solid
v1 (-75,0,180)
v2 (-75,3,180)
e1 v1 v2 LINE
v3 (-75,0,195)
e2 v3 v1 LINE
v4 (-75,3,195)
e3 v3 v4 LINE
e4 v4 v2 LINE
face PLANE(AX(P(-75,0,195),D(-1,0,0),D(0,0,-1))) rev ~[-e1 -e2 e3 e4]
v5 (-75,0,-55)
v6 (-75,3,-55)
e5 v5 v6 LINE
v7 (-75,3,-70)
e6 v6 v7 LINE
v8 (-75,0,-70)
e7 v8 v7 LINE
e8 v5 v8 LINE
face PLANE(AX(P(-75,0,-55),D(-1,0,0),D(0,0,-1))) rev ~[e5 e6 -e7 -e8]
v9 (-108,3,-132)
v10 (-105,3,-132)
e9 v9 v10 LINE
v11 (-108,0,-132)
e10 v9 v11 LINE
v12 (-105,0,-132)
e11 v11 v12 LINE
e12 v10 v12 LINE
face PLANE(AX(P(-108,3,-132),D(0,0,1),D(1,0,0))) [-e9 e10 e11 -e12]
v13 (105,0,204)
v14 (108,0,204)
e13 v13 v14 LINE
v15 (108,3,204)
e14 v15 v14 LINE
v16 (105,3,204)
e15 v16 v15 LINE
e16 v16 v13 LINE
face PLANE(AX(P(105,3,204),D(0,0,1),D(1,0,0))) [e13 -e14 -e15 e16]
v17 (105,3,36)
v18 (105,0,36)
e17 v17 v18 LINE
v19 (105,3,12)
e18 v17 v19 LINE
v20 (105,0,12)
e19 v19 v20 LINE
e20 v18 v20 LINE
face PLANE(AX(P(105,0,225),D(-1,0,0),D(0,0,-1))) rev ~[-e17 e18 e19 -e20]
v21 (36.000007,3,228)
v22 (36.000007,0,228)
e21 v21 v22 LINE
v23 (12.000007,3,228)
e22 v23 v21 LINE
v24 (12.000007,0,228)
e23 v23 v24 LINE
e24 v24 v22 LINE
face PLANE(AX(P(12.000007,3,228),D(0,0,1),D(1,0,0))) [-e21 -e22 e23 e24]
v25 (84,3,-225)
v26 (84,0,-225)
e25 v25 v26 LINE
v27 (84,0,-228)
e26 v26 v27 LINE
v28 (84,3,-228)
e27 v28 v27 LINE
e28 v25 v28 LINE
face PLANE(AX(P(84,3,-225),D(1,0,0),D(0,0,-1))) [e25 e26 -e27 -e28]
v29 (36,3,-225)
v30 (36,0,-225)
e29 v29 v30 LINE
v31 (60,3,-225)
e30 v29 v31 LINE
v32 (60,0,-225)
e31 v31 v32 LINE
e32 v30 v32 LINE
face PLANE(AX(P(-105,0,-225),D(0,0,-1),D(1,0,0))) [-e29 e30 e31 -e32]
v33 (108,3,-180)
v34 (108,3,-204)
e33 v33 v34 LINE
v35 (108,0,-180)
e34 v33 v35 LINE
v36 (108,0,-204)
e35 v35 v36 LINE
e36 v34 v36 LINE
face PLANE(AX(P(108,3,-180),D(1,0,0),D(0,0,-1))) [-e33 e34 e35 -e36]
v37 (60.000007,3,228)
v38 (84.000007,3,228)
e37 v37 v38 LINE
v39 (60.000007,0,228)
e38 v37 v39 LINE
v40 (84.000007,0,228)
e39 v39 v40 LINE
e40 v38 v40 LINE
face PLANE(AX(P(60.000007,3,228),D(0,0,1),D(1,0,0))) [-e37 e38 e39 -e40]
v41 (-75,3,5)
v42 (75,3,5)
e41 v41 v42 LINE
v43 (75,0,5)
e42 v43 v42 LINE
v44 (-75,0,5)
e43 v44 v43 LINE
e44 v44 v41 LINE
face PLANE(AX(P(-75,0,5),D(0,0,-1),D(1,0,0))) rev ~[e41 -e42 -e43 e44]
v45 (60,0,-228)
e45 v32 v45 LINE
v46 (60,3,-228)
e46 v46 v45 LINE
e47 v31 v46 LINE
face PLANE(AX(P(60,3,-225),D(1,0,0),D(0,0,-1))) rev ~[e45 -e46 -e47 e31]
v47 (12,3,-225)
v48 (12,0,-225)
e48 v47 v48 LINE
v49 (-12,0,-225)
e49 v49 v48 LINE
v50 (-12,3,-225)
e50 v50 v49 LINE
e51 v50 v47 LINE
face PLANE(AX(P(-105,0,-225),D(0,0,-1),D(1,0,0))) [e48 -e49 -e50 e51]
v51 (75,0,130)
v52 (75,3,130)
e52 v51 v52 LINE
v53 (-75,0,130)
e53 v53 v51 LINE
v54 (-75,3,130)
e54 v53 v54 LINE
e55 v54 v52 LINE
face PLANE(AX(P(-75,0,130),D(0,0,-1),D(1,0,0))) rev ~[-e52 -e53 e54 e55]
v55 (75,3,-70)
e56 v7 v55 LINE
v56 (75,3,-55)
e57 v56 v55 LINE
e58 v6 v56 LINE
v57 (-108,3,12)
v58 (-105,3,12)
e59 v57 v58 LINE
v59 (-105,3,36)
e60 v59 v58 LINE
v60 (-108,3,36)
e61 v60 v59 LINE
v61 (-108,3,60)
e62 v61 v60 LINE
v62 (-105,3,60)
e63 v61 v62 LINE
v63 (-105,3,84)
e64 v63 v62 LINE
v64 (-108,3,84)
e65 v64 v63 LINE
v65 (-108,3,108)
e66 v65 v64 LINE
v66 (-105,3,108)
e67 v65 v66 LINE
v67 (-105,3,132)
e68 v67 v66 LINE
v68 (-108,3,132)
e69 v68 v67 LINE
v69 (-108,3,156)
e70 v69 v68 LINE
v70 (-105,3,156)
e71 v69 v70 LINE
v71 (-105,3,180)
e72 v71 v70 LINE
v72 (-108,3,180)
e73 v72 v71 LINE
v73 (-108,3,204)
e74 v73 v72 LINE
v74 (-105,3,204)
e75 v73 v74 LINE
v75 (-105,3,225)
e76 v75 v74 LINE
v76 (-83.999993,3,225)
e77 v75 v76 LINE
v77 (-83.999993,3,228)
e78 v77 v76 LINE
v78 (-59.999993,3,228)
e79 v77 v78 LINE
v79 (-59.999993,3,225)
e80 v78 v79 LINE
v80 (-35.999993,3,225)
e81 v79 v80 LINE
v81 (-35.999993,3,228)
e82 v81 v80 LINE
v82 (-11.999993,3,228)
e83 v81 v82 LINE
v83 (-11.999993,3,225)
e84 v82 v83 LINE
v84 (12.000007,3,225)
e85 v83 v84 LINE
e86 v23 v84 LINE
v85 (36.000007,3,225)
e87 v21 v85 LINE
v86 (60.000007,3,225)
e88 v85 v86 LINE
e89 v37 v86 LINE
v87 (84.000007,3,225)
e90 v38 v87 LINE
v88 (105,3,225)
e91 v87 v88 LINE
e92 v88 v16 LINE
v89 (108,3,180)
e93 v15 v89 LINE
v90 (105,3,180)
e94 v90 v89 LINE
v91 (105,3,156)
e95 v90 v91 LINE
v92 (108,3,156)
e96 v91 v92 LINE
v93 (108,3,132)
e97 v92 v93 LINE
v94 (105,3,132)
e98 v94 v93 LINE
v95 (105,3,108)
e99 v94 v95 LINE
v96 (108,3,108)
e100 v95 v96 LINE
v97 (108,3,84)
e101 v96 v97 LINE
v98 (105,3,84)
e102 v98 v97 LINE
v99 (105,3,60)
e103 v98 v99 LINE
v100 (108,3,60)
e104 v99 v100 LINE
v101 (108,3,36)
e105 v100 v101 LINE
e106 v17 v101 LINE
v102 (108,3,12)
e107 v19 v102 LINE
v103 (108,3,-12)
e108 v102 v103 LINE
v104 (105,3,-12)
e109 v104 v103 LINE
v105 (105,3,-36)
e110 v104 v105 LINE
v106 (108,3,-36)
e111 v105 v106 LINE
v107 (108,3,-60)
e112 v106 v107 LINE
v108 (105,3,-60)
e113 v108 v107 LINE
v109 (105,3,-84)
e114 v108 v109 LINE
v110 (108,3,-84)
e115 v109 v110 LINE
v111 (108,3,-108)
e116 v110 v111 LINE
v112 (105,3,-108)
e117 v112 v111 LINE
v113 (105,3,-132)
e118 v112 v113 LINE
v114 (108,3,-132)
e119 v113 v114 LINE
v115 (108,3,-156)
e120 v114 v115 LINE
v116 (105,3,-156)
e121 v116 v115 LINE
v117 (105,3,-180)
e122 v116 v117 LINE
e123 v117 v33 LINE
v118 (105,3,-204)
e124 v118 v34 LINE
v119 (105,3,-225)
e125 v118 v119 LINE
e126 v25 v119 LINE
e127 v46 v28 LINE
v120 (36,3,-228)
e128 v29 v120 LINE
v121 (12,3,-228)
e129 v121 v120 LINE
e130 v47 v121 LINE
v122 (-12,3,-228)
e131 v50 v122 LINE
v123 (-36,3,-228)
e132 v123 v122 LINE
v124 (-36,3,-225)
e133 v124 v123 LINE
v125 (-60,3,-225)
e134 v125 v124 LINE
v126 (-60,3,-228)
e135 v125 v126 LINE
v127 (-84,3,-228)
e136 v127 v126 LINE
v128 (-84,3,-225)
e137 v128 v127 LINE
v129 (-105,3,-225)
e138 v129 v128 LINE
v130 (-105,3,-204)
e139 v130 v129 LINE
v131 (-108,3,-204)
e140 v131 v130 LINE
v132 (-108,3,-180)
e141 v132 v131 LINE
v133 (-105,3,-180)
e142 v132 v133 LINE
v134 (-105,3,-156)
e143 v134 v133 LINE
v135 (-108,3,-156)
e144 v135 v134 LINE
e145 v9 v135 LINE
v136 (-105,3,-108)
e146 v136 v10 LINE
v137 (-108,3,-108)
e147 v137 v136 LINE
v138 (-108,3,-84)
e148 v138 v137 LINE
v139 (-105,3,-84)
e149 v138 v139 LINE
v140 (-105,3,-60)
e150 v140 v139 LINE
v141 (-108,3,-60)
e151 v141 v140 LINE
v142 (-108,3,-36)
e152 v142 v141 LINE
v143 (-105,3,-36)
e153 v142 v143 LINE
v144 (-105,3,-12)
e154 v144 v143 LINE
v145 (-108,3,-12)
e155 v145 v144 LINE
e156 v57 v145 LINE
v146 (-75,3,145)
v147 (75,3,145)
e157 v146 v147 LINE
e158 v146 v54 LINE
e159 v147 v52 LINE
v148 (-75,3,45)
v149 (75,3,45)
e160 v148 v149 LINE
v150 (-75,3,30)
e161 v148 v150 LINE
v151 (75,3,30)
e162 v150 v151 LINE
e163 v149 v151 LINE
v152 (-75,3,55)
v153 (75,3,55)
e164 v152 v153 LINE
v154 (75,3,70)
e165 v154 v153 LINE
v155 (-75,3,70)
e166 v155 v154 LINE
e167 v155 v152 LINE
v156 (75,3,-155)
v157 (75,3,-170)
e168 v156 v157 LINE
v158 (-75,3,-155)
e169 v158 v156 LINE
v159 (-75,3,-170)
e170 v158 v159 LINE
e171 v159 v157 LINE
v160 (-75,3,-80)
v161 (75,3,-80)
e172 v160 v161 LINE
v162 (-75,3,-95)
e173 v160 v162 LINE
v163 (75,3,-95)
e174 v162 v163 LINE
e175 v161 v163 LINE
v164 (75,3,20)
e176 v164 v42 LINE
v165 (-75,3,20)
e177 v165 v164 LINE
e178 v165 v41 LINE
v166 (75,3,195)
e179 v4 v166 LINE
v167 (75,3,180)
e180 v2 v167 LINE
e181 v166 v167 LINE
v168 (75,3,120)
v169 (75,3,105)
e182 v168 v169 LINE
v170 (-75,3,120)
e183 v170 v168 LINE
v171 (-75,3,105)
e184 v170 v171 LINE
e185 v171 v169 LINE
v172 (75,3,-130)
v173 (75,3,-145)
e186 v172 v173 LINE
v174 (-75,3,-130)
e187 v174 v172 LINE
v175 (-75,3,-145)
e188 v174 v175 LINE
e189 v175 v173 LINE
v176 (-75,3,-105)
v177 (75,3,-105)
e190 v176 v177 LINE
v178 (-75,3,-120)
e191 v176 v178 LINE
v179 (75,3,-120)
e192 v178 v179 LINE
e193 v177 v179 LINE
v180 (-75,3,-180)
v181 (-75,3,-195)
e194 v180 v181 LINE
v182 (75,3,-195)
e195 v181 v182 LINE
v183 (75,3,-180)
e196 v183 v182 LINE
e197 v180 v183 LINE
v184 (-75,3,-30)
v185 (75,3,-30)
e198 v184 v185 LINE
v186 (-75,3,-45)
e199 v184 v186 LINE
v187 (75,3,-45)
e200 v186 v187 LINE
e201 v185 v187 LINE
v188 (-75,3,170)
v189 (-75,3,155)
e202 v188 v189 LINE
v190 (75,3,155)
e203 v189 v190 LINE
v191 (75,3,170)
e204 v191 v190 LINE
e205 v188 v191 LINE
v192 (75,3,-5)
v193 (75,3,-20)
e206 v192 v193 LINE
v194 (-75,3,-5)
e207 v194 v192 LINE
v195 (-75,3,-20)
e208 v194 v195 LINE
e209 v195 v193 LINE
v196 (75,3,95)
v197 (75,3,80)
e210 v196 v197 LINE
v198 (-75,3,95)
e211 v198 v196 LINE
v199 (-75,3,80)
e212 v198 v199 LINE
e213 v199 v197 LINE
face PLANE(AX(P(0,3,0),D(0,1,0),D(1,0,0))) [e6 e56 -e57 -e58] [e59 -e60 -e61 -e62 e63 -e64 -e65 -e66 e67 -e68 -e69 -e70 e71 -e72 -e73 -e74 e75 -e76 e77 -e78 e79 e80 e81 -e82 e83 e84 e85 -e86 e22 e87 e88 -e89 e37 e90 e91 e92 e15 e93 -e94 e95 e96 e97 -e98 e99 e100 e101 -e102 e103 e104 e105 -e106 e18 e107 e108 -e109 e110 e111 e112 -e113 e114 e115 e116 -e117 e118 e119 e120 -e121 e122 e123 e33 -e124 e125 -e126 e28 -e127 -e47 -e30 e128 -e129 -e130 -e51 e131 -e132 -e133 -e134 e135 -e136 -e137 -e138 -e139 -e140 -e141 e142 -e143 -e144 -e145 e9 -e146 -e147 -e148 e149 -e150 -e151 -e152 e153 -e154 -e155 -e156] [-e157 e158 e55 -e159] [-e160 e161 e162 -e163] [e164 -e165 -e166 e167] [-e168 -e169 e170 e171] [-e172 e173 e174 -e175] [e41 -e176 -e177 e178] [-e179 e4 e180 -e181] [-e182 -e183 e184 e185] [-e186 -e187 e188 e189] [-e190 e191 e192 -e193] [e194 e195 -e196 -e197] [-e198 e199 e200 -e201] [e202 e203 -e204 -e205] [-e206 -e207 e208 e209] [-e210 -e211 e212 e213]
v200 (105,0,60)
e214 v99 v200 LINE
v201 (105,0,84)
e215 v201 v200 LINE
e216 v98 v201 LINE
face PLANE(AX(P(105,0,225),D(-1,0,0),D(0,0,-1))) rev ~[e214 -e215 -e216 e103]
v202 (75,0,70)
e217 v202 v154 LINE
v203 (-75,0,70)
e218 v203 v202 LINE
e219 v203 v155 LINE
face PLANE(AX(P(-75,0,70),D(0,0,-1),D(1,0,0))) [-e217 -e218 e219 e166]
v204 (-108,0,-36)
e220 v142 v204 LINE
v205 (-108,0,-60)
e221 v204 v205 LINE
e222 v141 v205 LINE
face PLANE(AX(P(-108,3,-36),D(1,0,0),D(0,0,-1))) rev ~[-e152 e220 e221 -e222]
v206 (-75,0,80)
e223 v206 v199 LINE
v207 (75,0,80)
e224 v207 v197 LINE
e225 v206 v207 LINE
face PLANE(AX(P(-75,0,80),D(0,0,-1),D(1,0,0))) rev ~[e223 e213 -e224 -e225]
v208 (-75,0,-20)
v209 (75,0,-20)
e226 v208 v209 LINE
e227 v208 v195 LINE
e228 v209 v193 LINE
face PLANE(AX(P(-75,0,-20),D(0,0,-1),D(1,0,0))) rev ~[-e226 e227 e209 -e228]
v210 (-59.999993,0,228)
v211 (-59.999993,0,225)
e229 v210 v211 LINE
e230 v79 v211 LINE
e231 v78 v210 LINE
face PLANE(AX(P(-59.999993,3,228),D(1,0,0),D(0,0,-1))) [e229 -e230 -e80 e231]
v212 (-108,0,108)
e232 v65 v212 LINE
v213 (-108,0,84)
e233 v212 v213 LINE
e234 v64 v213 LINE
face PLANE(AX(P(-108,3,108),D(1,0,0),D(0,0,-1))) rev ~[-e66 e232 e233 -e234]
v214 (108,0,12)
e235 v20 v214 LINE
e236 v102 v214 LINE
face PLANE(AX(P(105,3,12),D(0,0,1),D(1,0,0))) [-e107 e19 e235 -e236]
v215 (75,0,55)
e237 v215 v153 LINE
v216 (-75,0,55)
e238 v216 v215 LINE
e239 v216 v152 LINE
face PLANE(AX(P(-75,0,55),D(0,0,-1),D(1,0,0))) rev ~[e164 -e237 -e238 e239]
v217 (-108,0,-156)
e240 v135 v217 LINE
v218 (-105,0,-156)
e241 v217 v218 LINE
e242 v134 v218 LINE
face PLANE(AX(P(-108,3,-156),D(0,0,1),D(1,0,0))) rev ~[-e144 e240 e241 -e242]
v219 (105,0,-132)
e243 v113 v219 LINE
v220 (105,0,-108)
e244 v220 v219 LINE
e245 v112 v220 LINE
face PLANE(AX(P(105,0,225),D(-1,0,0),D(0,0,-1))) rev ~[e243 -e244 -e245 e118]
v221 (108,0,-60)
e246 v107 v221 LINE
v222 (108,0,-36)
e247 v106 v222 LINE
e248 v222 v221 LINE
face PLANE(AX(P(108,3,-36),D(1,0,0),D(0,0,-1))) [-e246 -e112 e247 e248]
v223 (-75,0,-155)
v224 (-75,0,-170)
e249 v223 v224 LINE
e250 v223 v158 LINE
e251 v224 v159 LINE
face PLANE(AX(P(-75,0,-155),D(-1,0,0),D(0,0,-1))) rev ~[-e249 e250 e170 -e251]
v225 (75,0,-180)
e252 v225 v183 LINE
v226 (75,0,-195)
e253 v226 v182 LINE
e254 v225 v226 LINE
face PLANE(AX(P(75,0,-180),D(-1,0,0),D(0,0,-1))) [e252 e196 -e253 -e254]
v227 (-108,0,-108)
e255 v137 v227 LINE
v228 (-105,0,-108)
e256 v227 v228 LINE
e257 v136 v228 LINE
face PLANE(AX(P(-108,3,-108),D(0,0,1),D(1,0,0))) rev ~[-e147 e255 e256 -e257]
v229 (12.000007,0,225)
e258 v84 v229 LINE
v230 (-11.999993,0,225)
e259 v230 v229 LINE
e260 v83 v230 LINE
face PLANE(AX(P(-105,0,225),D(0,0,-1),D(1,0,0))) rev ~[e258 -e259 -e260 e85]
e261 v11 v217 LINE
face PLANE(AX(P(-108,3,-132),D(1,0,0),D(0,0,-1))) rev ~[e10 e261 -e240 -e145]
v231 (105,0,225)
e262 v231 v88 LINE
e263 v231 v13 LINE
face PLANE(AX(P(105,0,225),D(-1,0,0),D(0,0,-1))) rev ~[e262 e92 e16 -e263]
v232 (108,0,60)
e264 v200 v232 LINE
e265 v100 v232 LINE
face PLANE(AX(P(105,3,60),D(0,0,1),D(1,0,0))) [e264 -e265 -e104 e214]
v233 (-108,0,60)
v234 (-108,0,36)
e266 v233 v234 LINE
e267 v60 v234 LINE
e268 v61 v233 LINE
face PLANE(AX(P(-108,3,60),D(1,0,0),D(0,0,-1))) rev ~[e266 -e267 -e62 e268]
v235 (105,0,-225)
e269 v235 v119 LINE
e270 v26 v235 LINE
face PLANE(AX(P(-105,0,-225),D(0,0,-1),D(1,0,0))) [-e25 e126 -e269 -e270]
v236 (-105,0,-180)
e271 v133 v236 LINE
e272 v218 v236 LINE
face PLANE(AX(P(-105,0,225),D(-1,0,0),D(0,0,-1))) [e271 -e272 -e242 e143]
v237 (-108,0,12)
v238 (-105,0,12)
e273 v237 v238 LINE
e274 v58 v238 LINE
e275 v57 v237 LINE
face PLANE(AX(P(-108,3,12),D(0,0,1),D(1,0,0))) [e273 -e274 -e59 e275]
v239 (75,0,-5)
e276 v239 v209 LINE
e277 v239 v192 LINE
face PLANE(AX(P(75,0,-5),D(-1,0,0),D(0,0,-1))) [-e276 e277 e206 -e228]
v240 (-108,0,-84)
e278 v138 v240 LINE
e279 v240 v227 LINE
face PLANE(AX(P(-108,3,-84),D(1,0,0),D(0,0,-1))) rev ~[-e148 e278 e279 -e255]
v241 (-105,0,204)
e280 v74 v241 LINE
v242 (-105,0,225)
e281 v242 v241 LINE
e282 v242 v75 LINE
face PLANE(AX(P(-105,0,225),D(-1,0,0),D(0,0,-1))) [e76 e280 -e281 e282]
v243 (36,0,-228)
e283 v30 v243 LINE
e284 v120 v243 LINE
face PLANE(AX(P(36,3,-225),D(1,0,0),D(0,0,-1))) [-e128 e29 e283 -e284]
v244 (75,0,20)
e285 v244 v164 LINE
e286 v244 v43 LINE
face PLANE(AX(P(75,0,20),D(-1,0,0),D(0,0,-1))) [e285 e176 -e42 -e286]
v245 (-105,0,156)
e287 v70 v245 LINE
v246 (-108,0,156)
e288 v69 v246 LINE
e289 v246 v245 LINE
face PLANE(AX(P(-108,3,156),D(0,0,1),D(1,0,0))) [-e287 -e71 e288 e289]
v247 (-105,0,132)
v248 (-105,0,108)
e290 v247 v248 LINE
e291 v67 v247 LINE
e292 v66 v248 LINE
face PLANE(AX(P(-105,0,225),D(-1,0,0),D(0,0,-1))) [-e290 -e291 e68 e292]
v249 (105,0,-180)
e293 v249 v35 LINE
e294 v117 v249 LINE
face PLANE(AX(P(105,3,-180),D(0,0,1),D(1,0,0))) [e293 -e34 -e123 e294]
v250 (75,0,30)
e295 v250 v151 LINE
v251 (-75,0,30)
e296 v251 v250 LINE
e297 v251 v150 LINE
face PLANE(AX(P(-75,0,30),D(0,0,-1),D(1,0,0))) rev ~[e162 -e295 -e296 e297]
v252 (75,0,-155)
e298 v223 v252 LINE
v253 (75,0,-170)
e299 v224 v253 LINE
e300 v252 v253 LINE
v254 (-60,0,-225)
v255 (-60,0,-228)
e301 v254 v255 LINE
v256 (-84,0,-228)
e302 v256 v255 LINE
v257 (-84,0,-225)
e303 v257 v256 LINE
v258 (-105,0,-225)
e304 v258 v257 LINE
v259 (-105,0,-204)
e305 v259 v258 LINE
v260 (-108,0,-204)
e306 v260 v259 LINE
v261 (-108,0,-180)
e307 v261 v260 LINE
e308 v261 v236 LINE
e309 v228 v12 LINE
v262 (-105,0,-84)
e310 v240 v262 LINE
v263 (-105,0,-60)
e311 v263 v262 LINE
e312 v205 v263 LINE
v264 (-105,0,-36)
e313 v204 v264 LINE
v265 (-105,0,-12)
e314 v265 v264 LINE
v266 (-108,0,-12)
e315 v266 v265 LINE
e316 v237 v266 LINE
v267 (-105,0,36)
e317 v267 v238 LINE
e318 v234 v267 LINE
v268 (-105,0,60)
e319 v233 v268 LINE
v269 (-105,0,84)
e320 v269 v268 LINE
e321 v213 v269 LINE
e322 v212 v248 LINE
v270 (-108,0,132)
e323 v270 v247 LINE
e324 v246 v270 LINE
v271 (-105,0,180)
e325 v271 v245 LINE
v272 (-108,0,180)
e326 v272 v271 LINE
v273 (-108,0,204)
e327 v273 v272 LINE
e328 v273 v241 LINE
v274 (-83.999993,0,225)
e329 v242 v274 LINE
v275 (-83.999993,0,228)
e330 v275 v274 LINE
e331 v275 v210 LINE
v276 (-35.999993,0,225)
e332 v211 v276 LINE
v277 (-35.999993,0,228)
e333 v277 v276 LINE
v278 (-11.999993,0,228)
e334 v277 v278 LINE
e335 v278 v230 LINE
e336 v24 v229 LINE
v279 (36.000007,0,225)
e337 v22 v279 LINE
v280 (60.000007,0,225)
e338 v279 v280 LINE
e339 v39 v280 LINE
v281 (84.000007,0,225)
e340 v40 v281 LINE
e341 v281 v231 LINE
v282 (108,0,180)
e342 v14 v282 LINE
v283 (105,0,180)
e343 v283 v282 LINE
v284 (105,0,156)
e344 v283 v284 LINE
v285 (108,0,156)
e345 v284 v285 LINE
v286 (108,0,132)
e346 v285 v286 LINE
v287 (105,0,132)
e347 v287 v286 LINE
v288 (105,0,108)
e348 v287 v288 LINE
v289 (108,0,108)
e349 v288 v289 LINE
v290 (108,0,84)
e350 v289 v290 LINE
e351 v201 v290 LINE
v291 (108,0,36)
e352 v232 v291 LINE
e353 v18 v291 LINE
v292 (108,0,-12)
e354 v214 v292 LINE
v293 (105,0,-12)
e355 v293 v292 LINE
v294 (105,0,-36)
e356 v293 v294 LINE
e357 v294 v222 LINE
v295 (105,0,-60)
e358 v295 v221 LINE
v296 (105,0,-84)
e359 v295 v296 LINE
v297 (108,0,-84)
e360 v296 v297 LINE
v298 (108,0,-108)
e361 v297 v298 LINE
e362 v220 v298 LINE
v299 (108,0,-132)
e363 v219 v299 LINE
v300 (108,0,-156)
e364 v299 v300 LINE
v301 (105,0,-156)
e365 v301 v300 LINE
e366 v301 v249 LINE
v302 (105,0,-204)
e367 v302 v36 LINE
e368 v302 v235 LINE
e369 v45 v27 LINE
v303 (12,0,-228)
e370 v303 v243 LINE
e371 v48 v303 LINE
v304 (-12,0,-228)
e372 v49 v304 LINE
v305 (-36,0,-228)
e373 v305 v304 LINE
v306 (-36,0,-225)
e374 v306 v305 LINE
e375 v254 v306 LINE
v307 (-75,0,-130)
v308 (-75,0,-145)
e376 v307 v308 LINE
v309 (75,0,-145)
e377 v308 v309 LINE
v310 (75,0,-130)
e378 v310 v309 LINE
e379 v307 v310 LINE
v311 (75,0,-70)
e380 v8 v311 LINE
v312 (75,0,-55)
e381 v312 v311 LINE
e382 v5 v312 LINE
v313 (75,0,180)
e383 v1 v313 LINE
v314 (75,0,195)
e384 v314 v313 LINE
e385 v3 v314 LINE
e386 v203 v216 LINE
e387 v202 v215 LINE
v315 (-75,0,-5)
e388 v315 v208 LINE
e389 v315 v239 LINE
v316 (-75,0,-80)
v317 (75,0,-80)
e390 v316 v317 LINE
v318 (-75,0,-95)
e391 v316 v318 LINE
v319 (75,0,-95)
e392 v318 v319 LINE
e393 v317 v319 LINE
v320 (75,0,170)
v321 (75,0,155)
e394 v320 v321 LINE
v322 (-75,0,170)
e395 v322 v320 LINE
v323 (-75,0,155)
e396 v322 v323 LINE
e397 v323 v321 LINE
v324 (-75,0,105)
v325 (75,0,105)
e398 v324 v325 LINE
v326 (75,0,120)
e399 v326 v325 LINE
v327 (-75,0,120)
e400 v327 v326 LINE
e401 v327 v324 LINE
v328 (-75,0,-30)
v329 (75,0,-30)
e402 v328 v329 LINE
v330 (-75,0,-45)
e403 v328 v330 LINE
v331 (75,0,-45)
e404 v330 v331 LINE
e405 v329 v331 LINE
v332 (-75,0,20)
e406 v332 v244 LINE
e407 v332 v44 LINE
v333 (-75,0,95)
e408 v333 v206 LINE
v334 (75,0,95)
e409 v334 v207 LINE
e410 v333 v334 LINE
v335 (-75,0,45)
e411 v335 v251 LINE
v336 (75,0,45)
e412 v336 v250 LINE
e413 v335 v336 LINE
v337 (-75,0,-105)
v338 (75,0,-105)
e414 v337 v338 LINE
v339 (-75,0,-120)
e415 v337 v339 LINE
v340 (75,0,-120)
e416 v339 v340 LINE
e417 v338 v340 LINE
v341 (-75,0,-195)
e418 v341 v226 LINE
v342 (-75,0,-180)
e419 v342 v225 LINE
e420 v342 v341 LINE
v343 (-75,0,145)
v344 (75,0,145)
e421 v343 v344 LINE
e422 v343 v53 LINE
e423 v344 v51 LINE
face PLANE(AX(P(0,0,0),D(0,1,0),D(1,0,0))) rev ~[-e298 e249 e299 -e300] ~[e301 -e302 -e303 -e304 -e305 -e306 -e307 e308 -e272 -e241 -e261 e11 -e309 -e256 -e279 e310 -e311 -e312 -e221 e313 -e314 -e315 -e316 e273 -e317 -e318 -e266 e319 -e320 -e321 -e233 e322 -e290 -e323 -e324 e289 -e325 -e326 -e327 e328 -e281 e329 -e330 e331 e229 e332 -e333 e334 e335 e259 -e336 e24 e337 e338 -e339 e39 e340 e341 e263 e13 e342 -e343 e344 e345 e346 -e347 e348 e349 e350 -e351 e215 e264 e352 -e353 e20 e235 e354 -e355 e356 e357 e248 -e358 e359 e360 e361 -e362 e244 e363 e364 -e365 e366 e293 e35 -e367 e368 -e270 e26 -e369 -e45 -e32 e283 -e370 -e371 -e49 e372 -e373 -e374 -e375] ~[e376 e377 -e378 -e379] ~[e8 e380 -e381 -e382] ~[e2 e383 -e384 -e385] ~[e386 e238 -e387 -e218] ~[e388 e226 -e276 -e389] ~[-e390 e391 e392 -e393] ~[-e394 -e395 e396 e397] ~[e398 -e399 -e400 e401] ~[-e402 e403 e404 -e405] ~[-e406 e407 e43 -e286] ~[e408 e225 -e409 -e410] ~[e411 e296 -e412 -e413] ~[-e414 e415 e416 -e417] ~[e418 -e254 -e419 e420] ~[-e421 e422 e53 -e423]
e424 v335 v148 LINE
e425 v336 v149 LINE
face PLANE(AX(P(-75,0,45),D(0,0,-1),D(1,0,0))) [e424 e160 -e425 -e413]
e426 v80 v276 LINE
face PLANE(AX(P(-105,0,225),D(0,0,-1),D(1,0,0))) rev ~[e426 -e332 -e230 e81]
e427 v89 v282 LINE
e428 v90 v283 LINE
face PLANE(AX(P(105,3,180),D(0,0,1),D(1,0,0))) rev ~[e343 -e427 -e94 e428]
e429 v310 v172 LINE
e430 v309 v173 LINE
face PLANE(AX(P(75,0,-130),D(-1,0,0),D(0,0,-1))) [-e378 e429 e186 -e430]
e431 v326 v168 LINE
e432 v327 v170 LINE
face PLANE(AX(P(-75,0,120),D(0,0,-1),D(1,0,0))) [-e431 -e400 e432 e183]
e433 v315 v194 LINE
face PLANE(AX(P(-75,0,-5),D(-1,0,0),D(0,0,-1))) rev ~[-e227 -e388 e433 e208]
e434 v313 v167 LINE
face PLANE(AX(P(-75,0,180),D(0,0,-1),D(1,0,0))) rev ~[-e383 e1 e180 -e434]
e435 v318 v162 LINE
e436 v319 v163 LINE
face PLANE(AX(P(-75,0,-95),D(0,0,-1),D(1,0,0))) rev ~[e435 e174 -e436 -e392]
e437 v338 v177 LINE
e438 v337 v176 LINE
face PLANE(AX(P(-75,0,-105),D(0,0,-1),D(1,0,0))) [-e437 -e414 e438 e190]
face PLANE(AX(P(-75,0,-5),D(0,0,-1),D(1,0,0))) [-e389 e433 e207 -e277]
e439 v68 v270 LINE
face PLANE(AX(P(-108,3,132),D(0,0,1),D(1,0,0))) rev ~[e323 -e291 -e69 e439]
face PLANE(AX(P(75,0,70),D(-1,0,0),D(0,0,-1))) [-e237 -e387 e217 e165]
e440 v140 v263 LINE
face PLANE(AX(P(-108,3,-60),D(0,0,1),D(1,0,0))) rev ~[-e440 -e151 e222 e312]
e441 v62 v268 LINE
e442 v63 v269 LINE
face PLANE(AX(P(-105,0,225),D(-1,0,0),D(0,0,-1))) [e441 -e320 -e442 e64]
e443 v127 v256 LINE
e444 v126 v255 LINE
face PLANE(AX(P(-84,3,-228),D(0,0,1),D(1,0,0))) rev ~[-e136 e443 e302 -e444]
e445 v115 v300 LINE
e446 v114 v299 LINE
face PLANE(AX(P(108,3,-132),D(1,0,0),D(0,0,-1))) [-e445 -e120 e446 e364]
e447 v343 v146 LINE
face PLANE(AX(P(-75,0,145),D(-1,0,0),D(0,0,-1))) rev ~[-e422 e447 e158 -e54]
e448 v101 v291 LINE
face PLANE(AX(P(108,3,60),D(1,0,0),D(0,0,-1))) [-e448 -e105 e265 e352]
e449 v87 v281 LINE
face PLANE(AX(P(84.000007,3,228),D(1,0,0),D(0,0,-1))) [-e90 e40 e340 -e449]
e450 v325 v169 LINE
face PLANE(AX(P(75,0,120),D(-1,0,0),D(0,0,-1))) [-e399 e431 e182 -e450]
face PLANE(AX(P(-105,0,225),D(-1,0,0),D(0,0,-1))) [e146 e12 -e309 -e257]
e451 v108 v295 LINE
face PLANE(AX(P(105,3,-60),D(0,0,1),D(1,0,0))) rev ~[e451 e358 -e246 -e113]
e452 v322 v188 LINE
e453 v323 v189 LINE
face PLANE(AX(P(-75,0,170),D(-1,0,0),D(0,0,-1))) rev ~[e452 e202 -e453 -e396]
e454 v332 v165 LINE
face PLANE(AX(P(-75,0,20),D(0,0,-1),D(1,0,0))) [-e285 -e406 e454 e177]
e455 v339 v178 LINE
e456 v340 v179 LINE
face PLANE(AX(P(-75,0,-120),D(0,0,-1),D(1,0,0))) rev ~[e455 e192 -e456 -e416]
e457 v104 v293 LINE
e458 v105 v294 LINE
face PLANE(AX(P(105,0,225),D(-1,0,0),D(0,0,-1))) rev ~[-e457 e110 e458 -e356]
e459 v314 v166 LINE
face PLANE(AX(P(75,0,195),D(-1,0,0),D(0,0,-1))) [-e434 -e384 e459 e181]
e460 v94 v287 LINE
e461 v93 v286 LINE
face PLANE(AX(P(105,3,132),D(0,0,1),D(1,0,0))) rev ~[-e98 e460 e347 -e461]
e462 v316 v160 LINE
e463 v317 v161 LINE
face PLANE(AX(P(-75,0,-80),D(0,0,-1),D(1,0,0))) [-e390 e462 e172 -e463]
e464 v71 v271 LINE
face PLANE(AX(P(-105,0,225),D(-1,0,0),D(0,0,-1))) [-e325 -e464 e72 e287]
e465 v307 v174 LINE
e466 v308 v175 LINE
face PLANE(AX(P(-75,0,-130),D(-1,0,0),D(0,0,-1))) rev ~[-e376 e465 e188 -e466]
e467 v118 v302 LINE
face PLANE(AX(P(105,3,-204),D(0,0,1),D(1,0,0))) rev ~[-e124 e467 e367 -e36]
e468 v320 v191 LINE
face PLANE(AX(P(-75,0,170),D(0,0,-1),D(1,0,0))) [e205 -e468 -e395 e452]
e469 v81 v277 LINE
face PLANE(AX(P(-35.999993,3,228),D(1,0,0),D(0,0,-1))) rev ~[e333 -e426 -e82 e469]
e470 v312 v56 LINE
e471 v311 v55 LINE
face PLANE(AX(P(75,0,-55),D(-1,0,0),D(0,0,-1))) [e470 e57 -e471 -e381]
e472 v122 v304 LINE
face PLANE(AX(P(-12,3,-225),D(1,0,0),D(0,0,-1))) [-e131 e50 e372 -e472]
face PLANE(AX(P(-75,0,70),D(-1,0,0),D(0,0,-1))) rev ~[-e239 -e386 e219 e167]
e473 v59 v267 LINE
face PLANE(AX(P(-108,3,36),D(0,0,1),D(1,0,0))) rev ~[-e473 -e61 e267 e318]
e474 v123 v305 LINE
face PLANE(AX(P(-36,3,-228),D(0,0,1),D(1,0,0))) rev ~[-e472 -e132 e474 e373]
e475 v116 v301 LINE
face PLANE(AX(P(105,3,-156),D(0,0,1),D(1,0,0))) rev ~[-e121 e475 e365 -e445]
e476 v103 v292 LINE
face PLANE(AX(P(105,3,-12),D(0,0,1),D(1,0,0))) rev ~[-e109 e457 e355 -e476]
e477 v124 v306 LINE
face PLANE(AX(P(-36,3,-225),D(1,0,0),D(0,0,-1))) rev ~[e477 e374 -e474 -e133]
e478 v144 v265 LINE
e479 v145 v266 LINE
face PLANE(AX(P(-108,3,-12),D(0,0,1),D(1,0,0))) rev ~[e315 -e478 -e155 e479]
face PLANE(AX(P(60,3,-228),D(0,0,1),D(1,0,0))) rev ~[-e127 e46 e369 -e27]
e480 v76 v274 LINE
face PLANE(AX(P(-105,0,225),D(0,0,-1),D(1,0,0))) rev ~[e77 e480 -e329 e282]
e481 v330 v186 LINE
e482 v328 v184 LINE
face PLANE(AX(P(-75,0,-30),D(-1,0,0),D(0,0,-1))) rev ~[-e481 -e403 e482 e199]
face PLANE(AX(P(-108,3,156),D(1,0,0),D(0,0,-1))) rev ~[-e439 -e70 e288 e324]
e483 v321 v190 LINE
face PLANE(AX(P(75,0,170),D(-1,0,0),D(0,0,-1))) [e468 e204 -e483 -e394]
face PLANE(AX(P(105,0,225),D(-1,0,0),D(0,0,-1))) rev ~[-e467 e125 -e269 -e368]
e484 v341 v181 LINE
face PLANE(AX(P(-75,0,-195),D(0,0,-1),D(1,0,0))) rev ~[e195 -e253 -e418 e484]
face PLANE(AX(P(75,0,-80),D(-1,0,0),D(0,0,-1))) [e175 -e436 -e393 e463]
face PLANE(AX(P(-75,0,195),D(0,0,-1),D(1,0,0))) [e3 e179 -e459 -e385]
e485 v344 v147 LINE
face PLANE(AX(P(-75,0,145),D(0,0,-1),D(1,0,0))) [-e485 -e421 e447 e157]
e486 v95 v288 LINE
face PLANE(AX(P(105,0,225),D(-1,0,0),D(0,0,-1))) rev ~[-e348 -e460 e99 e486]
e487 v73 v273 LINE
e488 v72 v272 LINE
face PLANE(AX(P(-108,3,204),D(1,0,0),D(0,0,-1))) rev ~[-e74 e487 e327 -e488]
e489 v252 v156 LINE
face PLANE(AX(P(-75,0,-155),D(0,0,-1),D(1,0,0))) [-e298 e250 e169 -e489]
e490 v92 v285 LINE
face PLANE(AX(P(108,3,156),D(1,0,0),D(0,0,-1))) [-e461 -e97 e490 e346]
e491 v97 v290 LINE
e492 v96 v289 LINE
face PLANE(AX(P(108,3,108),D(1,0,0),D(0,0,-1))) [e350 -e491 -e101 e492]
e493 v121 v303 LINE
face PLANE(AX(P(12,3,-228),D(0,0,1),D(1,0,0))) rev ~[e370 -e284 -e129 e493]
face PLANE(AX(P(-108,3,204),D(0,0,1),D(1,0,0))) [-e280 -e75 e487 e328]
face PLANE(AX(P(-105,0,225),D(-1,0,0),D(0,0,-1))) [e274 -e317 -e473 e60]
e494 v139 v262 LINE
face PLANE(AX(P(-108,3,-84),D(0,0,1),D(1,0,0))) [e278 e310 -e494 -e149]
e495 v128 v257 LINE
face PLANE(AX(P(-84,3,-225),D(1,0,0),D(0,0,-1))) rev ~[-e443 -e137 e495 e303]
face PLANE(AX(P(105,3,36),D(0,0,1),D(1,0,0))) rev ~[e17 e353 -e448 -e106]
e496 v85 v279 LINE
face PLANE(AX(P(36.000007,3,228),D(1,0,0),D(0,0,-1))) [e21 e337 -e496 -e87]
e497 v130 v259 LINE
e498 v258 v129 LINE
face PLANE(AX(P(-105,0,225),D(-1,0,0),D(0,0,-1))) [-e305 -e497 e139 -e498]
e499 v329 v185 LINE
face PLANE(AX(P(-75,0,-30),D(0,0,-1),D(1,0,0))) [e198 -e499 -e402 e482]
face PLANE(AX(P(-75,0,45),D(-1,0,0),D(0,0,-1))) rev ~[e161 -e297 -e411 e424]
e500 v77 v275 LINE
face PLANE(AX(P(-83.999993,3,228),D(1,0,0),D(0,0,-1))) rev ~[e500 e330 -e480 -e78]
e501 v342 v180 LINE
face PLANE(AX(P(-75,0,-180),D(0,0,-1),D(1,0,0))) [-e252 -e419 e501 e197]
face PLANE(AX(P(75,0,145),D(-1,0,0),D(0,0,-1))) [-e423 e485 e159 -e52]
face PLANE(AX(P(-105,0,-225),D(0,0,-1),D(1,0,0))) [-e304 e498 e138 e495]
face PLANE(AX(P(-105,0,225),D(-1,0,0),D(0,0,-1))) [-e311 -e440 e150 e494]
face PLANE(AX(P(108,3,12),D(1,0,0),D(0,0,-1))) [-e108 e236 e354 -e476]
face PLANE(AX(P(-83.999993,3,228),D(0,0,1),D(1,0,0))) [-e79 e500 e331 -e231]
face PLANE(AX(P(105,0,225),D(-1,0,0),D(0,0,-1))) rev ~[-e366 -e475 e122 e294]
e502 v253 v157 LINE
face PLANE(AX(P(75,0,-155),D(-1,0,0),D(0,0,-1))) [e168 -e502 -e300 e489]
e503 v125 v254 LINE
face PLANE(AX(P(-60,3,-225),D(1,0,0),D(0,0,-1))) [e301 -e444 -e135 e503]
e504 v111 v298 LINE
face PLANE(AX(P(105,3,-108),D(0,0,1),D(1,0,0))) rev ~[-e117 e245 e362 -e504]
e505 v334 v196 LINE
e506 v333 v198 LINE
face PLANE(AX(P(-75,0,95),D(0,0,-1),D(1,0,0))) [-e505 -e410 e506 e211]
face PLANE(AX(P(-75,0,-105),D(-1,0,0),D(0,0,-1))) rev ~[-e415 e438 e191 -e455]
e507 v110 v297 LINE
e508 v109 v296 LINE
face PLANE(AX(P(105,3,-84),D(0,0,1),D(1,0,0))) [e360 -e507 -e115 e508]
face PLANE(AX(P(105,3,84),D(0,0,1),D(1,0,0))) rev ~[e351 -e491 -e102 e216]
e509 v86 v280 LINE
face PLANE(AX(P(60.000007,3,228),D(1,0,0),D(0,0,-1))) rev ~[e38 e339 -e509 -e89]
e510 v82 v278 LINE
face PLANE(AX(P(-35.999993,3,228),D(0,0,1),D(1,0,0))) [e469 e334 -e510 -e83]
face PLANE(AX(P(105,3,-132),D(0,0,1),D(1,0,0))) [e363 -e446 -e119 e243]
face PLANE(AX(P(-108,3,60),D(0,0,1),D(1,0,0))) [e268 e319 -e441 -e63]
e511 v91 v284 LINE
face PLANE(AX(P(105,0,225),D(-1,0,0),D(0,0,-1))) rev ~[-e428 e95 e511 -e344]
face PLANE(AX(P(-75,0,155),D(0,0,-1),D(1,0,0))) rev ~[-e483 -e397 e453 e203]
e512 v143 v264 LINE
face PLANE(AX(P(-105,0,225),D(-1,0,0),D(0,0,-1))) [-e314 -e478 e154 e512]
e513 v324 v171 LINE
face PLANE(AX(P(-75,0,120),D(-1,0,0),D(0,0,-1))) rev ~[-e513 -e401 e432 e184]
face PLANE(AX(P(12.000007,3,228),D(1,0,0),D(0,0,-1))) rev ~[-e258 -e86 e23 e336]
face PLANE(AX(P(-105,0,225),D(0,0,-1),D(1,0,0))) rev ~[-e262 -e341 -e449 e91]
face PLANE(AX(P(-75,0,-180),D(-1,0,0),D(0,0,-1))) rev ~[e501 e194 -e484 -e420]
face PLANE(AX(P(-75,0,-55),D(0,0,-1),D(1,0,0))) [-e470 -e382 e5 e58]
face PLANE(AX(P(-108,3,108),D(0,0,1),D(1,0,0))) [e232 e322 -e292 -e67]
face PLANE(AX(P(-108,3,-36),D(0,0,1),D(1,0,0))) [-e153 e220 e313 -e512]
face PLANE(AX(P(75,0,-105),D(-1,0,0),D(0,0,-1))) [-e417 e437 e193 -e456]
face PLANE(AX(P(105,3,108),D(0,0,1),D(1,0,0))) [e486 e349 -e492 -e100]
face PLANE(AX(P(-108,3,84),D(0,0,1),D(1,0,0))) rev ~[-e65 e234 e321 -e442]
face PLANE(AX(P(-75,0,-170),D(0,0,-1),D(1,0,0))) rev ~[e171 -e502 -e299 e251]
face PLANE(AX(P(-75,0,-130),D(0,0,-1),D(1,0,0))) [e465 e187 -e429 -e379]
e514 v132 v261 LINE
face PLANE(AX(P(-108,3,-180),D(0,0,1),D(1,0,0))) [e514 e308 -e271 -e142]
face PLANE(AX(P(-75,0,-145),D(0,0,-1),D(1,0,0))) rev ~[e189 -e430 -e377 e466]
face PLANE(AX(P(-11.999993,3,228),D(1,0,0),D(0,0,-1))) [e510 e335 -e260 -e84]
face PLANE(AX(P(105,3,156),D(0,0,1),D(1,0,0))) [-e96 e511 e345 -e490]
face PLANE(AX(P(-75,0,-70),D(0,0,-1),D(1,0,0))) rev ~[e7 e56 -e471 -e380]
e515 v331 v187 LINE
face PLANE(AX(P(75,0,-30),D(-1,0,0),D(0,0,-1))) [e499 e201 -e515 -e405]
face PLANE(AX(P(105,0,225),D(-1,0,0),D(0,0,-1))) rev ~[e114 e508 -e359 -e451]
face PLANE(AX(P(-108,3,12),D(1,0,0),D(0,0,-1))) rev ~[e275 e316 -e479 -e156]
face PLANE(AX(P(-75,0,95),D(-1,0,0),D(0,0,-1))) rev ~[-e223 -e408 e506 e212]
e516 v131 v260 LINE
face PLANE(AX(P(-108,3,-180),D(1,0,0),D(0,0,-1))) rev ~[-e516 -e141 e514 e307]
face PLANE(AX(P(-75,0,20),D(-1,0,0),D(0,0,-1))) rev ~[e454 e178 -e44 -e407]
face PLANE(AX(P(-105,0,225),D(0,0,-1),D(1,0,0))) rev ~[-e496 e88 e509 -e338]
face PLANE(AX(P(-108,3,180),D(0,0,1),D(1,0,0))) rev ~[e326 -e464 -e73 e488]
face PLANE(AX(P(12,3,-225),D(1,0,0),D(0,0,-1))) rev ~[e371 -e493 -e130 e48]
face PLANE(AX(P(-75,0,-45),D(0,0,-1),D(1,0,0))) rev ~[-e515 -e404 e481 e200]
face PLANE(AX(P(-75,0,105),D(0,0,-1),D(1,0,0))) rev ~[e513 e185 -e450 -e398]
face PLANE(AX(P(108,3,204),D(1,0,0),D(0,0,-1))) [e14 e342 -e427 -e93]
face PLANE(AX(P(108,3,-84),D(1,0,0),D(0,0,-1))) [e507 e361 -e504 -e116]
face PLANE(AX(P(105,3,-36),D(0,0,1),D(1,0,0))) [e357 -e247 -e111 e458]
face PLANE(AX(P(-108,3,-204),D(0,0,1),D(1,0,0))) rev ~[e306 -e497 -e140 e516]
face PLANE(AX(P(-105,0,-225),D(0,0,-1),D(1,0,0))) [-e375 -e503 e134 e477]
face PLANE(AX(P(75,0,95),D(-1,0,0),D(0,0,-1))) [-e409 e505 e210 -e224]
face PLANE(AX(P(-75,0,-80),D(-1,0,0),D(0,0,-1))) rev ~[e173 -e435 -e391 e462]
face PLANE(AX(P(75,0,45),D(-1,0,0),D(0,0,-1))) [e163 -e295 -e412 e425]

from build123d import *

# Parameters (mm, degrees)
SKETCH1_W           = 210
SKETCH1_H           = 450
SKETCH1_W_2         = 150
SKETCH1_H_2         = 15
BOSS_EXTRUDE1_DEPTH = 3
SKETCH3_W           = 3
SKETCH3_H           = 24
BOSS_EXTRUDE3_DEPTH = 3
SKETCH2_W           = 24
SKETCH2_H           = 3
BOSS_EXTRUDE4_DEPTH = 3


with BuildPart() as part:
    # Sketch1 → Boss-Extrude1 (new body)
    with BuildSketch(Plane(origin=(0, 0, 0), x_dir=(1, 0, 0), z_dir=(0, 1, 0))):
        Rectangle(SKETCH1_W, SKETCH1_H)
        with Locations((0, -162.5)):
            Rectangle(SKETCH1_W_2, SKETCH1_H_2, mode=Mode.SUBTRACT)
        with Locations((0, -187.5)):
            Rectangle(SKETCH1_W_2, SKETCH1_H_2, mode=Mode.SUBTRACT)
        with Locations((0, -137.5)):
            Rectangle(SKETCH1_W_2, SKETCH1_H_2, mode=Mode.SUBTRACT)
        with Locations((0, -112.5)):
            Rectangle(SKETCH1_W_2, SKETCH1_H_2, mode=Mode.SUBTRACT)
        with Locations((0, -87.5)):
            Rectangle(SKETCH1_W_2, SKETCH1_H_2, mode=Mode.SUBTRACT)
        with Locations((0, -62.5)):
            Rectangle(SKETCH1_W_2, SKETCH1_H_2, mode=Mode.SUBTRACT)
        with Locations((0, -37.5)):
            Rectangle(SKETCH1_W_2, SKETCH1_H_2, mode=Mode.SUBTRACT)
        with Locations((0, -12.5)):
            Rectangle(SKETCH1_W_2, SKETCH1_H_2, mode=Mode.SUBTRACT)
        with Locations((0, 12.5)):
            Rectangle(SKETCH1_W_2, SKETCH1_H_2, mode=Mode.SUBTRACT)
        with Locations((0, 37.5)):
            Rectangle(SKETCH1_W_2, SKETCH1_H_2, mode=Mode.SUBTRACT)
        with Locations((0, 62.5)):
            Rectangle(SKETCH1_W_2, SKETCH1_H_2, mode=Mode.SUBTRACT)
        with Locations((0, 87.5)):
            Rectangle(SKETCH1_W_2, SKETCH1_H_2, mode=Mode.SUBTRACT)
        with Locations((0, 112.5)):
            Rectangle(SKETCH1_W_2, SKETCH1_H_2, mode=Mode.SUBTRACT)
        with Locations((0, 137.5)):
            Rectangle(SKETCH1_W_2, SKETCH1_H_2, mode=Mode.SUBTRACT)
        with Locations((0, 162.5)):
            Rectangle(SKETCH1_W_2, SKETCH1_H_2, mode=Mode.SUBTRACT)
        with Locations((0, 187.5)):
            Rectangle(SKETCH1_W_2, SKETCH1_H_2, mode=Mode.SUBTRACT)
    extrude(amount=BOSS_EXTRUDE1_DEPTH)

    # Sketch3 → Boss-Extrude3 (add)
    with BuildSketch(Plane(origin=(0, 3, 0), x_dir=(1, 0, 0), z_dir=(0, 1, 0))):
        with Locations((-106.5, 192)):
            Rectangle(SKETCH3_W, SKETCH3_H)
        with Locations((106.5, 192)):
            Rectangle(SKETCH3_W, SKETCH3_H)
        with Locations((106.5, 144)):
            Rectangle(SKETCH3_W, SKETCH3_H)
        with Locations((106.5, 96)):
            Rectangle(SKETCH3_W, SKETCH3_H)
        with Locations((106.5, 48)):
            Rectangle(SKETCH3_W, SKETCH3_H)
        with Locations((106.5, 0)):
            Rectangle(SKETCH3_W, SKETCH3_H)
        with Locations((106.5, -48)):
            Rectangle(SKETCH3_W, SKETCH3_H)
        with Locations((106.5, -96)):
            Rectangle(SKETCH3_W, SKETCH3_H)
        with Locations((106.5, -144)):
            Rectangle(SKETCH3_W, SKETCH3_H)
        with Locations((106.5, -192)):
            Rectangle(SKETCH3_W, SKETCH3_H)
        with Locations((-106.5, 144)):
            Rectangle(SKETCH3_W, SKETCH3_H)
        with Locations((-106.5, 96)):
            Rectangle(SKETCH3_W, SKETCH3_H)
        with Locations((-106.5, 48)):
            Rectangle(SKETCH3_W, SKETCH3_H)
        with Locations((-106.5, 0)):
            Rectangle(SKETCH3_W, SKETCH3_H)
        with Locations((-106.5, -48)):
            Rectangle(SKETCH3_W, SKETCH3_H)
        with Locations((-106.5, -96)):
            Rectangle(SKETCH3_W, SKETCH3_H)
        with Locations((-106.5, -144)):
            Rectangle(SKETCH3_W, SKETCH3_H)
        with Locations((-106.5, -192)):
            Rectangle(SKETCH3_W, SKETCH3_H)
    extrude(amount=-BOSS_EXTRUDE3_DEPTH)

    # Sketch2 → Boss-Extrude4 (add)
    with BuildSketch(Plane(origin=(0, 3, 0), x_dir=(1, 0, 0), z_dir=(0, 1, 0))):
        with Locations((-72, 226.5)):
            Rectangle(SKETCH2_W, SKETCH2_H)
        with Locations((-24, 226.5)):
            Rectangle(SKETCH2_W, SKETCH2_H)
        with Locations((24, 226.5)):
            Rectangle(SKETCH2_W, SKETCH2_H)
        with Locations((72, 226.5)):
            Rectangle(SKETCH2_W, SKETCH2_H)
        with Locations((-71.999992971, -226.5)):
            Rectangle(SKETCH2_W, SKETCH2_H)
        with Locations((-23.999992971, -226.5)):
            Rectangle(SKETCH2_W, SKETCH2_H)
        with Locations((24.000007029, -226.5)):
            Rectangle(SKETCH2_W, SKETCH2_H)
        with Locations((72.000007029, -226.5)):
            Rectangle(SKETCH2_W, SKETCH2_H)
    extrude(amount=-BOSS_EXTRUDE4_DEPTH)


solid = part.part
